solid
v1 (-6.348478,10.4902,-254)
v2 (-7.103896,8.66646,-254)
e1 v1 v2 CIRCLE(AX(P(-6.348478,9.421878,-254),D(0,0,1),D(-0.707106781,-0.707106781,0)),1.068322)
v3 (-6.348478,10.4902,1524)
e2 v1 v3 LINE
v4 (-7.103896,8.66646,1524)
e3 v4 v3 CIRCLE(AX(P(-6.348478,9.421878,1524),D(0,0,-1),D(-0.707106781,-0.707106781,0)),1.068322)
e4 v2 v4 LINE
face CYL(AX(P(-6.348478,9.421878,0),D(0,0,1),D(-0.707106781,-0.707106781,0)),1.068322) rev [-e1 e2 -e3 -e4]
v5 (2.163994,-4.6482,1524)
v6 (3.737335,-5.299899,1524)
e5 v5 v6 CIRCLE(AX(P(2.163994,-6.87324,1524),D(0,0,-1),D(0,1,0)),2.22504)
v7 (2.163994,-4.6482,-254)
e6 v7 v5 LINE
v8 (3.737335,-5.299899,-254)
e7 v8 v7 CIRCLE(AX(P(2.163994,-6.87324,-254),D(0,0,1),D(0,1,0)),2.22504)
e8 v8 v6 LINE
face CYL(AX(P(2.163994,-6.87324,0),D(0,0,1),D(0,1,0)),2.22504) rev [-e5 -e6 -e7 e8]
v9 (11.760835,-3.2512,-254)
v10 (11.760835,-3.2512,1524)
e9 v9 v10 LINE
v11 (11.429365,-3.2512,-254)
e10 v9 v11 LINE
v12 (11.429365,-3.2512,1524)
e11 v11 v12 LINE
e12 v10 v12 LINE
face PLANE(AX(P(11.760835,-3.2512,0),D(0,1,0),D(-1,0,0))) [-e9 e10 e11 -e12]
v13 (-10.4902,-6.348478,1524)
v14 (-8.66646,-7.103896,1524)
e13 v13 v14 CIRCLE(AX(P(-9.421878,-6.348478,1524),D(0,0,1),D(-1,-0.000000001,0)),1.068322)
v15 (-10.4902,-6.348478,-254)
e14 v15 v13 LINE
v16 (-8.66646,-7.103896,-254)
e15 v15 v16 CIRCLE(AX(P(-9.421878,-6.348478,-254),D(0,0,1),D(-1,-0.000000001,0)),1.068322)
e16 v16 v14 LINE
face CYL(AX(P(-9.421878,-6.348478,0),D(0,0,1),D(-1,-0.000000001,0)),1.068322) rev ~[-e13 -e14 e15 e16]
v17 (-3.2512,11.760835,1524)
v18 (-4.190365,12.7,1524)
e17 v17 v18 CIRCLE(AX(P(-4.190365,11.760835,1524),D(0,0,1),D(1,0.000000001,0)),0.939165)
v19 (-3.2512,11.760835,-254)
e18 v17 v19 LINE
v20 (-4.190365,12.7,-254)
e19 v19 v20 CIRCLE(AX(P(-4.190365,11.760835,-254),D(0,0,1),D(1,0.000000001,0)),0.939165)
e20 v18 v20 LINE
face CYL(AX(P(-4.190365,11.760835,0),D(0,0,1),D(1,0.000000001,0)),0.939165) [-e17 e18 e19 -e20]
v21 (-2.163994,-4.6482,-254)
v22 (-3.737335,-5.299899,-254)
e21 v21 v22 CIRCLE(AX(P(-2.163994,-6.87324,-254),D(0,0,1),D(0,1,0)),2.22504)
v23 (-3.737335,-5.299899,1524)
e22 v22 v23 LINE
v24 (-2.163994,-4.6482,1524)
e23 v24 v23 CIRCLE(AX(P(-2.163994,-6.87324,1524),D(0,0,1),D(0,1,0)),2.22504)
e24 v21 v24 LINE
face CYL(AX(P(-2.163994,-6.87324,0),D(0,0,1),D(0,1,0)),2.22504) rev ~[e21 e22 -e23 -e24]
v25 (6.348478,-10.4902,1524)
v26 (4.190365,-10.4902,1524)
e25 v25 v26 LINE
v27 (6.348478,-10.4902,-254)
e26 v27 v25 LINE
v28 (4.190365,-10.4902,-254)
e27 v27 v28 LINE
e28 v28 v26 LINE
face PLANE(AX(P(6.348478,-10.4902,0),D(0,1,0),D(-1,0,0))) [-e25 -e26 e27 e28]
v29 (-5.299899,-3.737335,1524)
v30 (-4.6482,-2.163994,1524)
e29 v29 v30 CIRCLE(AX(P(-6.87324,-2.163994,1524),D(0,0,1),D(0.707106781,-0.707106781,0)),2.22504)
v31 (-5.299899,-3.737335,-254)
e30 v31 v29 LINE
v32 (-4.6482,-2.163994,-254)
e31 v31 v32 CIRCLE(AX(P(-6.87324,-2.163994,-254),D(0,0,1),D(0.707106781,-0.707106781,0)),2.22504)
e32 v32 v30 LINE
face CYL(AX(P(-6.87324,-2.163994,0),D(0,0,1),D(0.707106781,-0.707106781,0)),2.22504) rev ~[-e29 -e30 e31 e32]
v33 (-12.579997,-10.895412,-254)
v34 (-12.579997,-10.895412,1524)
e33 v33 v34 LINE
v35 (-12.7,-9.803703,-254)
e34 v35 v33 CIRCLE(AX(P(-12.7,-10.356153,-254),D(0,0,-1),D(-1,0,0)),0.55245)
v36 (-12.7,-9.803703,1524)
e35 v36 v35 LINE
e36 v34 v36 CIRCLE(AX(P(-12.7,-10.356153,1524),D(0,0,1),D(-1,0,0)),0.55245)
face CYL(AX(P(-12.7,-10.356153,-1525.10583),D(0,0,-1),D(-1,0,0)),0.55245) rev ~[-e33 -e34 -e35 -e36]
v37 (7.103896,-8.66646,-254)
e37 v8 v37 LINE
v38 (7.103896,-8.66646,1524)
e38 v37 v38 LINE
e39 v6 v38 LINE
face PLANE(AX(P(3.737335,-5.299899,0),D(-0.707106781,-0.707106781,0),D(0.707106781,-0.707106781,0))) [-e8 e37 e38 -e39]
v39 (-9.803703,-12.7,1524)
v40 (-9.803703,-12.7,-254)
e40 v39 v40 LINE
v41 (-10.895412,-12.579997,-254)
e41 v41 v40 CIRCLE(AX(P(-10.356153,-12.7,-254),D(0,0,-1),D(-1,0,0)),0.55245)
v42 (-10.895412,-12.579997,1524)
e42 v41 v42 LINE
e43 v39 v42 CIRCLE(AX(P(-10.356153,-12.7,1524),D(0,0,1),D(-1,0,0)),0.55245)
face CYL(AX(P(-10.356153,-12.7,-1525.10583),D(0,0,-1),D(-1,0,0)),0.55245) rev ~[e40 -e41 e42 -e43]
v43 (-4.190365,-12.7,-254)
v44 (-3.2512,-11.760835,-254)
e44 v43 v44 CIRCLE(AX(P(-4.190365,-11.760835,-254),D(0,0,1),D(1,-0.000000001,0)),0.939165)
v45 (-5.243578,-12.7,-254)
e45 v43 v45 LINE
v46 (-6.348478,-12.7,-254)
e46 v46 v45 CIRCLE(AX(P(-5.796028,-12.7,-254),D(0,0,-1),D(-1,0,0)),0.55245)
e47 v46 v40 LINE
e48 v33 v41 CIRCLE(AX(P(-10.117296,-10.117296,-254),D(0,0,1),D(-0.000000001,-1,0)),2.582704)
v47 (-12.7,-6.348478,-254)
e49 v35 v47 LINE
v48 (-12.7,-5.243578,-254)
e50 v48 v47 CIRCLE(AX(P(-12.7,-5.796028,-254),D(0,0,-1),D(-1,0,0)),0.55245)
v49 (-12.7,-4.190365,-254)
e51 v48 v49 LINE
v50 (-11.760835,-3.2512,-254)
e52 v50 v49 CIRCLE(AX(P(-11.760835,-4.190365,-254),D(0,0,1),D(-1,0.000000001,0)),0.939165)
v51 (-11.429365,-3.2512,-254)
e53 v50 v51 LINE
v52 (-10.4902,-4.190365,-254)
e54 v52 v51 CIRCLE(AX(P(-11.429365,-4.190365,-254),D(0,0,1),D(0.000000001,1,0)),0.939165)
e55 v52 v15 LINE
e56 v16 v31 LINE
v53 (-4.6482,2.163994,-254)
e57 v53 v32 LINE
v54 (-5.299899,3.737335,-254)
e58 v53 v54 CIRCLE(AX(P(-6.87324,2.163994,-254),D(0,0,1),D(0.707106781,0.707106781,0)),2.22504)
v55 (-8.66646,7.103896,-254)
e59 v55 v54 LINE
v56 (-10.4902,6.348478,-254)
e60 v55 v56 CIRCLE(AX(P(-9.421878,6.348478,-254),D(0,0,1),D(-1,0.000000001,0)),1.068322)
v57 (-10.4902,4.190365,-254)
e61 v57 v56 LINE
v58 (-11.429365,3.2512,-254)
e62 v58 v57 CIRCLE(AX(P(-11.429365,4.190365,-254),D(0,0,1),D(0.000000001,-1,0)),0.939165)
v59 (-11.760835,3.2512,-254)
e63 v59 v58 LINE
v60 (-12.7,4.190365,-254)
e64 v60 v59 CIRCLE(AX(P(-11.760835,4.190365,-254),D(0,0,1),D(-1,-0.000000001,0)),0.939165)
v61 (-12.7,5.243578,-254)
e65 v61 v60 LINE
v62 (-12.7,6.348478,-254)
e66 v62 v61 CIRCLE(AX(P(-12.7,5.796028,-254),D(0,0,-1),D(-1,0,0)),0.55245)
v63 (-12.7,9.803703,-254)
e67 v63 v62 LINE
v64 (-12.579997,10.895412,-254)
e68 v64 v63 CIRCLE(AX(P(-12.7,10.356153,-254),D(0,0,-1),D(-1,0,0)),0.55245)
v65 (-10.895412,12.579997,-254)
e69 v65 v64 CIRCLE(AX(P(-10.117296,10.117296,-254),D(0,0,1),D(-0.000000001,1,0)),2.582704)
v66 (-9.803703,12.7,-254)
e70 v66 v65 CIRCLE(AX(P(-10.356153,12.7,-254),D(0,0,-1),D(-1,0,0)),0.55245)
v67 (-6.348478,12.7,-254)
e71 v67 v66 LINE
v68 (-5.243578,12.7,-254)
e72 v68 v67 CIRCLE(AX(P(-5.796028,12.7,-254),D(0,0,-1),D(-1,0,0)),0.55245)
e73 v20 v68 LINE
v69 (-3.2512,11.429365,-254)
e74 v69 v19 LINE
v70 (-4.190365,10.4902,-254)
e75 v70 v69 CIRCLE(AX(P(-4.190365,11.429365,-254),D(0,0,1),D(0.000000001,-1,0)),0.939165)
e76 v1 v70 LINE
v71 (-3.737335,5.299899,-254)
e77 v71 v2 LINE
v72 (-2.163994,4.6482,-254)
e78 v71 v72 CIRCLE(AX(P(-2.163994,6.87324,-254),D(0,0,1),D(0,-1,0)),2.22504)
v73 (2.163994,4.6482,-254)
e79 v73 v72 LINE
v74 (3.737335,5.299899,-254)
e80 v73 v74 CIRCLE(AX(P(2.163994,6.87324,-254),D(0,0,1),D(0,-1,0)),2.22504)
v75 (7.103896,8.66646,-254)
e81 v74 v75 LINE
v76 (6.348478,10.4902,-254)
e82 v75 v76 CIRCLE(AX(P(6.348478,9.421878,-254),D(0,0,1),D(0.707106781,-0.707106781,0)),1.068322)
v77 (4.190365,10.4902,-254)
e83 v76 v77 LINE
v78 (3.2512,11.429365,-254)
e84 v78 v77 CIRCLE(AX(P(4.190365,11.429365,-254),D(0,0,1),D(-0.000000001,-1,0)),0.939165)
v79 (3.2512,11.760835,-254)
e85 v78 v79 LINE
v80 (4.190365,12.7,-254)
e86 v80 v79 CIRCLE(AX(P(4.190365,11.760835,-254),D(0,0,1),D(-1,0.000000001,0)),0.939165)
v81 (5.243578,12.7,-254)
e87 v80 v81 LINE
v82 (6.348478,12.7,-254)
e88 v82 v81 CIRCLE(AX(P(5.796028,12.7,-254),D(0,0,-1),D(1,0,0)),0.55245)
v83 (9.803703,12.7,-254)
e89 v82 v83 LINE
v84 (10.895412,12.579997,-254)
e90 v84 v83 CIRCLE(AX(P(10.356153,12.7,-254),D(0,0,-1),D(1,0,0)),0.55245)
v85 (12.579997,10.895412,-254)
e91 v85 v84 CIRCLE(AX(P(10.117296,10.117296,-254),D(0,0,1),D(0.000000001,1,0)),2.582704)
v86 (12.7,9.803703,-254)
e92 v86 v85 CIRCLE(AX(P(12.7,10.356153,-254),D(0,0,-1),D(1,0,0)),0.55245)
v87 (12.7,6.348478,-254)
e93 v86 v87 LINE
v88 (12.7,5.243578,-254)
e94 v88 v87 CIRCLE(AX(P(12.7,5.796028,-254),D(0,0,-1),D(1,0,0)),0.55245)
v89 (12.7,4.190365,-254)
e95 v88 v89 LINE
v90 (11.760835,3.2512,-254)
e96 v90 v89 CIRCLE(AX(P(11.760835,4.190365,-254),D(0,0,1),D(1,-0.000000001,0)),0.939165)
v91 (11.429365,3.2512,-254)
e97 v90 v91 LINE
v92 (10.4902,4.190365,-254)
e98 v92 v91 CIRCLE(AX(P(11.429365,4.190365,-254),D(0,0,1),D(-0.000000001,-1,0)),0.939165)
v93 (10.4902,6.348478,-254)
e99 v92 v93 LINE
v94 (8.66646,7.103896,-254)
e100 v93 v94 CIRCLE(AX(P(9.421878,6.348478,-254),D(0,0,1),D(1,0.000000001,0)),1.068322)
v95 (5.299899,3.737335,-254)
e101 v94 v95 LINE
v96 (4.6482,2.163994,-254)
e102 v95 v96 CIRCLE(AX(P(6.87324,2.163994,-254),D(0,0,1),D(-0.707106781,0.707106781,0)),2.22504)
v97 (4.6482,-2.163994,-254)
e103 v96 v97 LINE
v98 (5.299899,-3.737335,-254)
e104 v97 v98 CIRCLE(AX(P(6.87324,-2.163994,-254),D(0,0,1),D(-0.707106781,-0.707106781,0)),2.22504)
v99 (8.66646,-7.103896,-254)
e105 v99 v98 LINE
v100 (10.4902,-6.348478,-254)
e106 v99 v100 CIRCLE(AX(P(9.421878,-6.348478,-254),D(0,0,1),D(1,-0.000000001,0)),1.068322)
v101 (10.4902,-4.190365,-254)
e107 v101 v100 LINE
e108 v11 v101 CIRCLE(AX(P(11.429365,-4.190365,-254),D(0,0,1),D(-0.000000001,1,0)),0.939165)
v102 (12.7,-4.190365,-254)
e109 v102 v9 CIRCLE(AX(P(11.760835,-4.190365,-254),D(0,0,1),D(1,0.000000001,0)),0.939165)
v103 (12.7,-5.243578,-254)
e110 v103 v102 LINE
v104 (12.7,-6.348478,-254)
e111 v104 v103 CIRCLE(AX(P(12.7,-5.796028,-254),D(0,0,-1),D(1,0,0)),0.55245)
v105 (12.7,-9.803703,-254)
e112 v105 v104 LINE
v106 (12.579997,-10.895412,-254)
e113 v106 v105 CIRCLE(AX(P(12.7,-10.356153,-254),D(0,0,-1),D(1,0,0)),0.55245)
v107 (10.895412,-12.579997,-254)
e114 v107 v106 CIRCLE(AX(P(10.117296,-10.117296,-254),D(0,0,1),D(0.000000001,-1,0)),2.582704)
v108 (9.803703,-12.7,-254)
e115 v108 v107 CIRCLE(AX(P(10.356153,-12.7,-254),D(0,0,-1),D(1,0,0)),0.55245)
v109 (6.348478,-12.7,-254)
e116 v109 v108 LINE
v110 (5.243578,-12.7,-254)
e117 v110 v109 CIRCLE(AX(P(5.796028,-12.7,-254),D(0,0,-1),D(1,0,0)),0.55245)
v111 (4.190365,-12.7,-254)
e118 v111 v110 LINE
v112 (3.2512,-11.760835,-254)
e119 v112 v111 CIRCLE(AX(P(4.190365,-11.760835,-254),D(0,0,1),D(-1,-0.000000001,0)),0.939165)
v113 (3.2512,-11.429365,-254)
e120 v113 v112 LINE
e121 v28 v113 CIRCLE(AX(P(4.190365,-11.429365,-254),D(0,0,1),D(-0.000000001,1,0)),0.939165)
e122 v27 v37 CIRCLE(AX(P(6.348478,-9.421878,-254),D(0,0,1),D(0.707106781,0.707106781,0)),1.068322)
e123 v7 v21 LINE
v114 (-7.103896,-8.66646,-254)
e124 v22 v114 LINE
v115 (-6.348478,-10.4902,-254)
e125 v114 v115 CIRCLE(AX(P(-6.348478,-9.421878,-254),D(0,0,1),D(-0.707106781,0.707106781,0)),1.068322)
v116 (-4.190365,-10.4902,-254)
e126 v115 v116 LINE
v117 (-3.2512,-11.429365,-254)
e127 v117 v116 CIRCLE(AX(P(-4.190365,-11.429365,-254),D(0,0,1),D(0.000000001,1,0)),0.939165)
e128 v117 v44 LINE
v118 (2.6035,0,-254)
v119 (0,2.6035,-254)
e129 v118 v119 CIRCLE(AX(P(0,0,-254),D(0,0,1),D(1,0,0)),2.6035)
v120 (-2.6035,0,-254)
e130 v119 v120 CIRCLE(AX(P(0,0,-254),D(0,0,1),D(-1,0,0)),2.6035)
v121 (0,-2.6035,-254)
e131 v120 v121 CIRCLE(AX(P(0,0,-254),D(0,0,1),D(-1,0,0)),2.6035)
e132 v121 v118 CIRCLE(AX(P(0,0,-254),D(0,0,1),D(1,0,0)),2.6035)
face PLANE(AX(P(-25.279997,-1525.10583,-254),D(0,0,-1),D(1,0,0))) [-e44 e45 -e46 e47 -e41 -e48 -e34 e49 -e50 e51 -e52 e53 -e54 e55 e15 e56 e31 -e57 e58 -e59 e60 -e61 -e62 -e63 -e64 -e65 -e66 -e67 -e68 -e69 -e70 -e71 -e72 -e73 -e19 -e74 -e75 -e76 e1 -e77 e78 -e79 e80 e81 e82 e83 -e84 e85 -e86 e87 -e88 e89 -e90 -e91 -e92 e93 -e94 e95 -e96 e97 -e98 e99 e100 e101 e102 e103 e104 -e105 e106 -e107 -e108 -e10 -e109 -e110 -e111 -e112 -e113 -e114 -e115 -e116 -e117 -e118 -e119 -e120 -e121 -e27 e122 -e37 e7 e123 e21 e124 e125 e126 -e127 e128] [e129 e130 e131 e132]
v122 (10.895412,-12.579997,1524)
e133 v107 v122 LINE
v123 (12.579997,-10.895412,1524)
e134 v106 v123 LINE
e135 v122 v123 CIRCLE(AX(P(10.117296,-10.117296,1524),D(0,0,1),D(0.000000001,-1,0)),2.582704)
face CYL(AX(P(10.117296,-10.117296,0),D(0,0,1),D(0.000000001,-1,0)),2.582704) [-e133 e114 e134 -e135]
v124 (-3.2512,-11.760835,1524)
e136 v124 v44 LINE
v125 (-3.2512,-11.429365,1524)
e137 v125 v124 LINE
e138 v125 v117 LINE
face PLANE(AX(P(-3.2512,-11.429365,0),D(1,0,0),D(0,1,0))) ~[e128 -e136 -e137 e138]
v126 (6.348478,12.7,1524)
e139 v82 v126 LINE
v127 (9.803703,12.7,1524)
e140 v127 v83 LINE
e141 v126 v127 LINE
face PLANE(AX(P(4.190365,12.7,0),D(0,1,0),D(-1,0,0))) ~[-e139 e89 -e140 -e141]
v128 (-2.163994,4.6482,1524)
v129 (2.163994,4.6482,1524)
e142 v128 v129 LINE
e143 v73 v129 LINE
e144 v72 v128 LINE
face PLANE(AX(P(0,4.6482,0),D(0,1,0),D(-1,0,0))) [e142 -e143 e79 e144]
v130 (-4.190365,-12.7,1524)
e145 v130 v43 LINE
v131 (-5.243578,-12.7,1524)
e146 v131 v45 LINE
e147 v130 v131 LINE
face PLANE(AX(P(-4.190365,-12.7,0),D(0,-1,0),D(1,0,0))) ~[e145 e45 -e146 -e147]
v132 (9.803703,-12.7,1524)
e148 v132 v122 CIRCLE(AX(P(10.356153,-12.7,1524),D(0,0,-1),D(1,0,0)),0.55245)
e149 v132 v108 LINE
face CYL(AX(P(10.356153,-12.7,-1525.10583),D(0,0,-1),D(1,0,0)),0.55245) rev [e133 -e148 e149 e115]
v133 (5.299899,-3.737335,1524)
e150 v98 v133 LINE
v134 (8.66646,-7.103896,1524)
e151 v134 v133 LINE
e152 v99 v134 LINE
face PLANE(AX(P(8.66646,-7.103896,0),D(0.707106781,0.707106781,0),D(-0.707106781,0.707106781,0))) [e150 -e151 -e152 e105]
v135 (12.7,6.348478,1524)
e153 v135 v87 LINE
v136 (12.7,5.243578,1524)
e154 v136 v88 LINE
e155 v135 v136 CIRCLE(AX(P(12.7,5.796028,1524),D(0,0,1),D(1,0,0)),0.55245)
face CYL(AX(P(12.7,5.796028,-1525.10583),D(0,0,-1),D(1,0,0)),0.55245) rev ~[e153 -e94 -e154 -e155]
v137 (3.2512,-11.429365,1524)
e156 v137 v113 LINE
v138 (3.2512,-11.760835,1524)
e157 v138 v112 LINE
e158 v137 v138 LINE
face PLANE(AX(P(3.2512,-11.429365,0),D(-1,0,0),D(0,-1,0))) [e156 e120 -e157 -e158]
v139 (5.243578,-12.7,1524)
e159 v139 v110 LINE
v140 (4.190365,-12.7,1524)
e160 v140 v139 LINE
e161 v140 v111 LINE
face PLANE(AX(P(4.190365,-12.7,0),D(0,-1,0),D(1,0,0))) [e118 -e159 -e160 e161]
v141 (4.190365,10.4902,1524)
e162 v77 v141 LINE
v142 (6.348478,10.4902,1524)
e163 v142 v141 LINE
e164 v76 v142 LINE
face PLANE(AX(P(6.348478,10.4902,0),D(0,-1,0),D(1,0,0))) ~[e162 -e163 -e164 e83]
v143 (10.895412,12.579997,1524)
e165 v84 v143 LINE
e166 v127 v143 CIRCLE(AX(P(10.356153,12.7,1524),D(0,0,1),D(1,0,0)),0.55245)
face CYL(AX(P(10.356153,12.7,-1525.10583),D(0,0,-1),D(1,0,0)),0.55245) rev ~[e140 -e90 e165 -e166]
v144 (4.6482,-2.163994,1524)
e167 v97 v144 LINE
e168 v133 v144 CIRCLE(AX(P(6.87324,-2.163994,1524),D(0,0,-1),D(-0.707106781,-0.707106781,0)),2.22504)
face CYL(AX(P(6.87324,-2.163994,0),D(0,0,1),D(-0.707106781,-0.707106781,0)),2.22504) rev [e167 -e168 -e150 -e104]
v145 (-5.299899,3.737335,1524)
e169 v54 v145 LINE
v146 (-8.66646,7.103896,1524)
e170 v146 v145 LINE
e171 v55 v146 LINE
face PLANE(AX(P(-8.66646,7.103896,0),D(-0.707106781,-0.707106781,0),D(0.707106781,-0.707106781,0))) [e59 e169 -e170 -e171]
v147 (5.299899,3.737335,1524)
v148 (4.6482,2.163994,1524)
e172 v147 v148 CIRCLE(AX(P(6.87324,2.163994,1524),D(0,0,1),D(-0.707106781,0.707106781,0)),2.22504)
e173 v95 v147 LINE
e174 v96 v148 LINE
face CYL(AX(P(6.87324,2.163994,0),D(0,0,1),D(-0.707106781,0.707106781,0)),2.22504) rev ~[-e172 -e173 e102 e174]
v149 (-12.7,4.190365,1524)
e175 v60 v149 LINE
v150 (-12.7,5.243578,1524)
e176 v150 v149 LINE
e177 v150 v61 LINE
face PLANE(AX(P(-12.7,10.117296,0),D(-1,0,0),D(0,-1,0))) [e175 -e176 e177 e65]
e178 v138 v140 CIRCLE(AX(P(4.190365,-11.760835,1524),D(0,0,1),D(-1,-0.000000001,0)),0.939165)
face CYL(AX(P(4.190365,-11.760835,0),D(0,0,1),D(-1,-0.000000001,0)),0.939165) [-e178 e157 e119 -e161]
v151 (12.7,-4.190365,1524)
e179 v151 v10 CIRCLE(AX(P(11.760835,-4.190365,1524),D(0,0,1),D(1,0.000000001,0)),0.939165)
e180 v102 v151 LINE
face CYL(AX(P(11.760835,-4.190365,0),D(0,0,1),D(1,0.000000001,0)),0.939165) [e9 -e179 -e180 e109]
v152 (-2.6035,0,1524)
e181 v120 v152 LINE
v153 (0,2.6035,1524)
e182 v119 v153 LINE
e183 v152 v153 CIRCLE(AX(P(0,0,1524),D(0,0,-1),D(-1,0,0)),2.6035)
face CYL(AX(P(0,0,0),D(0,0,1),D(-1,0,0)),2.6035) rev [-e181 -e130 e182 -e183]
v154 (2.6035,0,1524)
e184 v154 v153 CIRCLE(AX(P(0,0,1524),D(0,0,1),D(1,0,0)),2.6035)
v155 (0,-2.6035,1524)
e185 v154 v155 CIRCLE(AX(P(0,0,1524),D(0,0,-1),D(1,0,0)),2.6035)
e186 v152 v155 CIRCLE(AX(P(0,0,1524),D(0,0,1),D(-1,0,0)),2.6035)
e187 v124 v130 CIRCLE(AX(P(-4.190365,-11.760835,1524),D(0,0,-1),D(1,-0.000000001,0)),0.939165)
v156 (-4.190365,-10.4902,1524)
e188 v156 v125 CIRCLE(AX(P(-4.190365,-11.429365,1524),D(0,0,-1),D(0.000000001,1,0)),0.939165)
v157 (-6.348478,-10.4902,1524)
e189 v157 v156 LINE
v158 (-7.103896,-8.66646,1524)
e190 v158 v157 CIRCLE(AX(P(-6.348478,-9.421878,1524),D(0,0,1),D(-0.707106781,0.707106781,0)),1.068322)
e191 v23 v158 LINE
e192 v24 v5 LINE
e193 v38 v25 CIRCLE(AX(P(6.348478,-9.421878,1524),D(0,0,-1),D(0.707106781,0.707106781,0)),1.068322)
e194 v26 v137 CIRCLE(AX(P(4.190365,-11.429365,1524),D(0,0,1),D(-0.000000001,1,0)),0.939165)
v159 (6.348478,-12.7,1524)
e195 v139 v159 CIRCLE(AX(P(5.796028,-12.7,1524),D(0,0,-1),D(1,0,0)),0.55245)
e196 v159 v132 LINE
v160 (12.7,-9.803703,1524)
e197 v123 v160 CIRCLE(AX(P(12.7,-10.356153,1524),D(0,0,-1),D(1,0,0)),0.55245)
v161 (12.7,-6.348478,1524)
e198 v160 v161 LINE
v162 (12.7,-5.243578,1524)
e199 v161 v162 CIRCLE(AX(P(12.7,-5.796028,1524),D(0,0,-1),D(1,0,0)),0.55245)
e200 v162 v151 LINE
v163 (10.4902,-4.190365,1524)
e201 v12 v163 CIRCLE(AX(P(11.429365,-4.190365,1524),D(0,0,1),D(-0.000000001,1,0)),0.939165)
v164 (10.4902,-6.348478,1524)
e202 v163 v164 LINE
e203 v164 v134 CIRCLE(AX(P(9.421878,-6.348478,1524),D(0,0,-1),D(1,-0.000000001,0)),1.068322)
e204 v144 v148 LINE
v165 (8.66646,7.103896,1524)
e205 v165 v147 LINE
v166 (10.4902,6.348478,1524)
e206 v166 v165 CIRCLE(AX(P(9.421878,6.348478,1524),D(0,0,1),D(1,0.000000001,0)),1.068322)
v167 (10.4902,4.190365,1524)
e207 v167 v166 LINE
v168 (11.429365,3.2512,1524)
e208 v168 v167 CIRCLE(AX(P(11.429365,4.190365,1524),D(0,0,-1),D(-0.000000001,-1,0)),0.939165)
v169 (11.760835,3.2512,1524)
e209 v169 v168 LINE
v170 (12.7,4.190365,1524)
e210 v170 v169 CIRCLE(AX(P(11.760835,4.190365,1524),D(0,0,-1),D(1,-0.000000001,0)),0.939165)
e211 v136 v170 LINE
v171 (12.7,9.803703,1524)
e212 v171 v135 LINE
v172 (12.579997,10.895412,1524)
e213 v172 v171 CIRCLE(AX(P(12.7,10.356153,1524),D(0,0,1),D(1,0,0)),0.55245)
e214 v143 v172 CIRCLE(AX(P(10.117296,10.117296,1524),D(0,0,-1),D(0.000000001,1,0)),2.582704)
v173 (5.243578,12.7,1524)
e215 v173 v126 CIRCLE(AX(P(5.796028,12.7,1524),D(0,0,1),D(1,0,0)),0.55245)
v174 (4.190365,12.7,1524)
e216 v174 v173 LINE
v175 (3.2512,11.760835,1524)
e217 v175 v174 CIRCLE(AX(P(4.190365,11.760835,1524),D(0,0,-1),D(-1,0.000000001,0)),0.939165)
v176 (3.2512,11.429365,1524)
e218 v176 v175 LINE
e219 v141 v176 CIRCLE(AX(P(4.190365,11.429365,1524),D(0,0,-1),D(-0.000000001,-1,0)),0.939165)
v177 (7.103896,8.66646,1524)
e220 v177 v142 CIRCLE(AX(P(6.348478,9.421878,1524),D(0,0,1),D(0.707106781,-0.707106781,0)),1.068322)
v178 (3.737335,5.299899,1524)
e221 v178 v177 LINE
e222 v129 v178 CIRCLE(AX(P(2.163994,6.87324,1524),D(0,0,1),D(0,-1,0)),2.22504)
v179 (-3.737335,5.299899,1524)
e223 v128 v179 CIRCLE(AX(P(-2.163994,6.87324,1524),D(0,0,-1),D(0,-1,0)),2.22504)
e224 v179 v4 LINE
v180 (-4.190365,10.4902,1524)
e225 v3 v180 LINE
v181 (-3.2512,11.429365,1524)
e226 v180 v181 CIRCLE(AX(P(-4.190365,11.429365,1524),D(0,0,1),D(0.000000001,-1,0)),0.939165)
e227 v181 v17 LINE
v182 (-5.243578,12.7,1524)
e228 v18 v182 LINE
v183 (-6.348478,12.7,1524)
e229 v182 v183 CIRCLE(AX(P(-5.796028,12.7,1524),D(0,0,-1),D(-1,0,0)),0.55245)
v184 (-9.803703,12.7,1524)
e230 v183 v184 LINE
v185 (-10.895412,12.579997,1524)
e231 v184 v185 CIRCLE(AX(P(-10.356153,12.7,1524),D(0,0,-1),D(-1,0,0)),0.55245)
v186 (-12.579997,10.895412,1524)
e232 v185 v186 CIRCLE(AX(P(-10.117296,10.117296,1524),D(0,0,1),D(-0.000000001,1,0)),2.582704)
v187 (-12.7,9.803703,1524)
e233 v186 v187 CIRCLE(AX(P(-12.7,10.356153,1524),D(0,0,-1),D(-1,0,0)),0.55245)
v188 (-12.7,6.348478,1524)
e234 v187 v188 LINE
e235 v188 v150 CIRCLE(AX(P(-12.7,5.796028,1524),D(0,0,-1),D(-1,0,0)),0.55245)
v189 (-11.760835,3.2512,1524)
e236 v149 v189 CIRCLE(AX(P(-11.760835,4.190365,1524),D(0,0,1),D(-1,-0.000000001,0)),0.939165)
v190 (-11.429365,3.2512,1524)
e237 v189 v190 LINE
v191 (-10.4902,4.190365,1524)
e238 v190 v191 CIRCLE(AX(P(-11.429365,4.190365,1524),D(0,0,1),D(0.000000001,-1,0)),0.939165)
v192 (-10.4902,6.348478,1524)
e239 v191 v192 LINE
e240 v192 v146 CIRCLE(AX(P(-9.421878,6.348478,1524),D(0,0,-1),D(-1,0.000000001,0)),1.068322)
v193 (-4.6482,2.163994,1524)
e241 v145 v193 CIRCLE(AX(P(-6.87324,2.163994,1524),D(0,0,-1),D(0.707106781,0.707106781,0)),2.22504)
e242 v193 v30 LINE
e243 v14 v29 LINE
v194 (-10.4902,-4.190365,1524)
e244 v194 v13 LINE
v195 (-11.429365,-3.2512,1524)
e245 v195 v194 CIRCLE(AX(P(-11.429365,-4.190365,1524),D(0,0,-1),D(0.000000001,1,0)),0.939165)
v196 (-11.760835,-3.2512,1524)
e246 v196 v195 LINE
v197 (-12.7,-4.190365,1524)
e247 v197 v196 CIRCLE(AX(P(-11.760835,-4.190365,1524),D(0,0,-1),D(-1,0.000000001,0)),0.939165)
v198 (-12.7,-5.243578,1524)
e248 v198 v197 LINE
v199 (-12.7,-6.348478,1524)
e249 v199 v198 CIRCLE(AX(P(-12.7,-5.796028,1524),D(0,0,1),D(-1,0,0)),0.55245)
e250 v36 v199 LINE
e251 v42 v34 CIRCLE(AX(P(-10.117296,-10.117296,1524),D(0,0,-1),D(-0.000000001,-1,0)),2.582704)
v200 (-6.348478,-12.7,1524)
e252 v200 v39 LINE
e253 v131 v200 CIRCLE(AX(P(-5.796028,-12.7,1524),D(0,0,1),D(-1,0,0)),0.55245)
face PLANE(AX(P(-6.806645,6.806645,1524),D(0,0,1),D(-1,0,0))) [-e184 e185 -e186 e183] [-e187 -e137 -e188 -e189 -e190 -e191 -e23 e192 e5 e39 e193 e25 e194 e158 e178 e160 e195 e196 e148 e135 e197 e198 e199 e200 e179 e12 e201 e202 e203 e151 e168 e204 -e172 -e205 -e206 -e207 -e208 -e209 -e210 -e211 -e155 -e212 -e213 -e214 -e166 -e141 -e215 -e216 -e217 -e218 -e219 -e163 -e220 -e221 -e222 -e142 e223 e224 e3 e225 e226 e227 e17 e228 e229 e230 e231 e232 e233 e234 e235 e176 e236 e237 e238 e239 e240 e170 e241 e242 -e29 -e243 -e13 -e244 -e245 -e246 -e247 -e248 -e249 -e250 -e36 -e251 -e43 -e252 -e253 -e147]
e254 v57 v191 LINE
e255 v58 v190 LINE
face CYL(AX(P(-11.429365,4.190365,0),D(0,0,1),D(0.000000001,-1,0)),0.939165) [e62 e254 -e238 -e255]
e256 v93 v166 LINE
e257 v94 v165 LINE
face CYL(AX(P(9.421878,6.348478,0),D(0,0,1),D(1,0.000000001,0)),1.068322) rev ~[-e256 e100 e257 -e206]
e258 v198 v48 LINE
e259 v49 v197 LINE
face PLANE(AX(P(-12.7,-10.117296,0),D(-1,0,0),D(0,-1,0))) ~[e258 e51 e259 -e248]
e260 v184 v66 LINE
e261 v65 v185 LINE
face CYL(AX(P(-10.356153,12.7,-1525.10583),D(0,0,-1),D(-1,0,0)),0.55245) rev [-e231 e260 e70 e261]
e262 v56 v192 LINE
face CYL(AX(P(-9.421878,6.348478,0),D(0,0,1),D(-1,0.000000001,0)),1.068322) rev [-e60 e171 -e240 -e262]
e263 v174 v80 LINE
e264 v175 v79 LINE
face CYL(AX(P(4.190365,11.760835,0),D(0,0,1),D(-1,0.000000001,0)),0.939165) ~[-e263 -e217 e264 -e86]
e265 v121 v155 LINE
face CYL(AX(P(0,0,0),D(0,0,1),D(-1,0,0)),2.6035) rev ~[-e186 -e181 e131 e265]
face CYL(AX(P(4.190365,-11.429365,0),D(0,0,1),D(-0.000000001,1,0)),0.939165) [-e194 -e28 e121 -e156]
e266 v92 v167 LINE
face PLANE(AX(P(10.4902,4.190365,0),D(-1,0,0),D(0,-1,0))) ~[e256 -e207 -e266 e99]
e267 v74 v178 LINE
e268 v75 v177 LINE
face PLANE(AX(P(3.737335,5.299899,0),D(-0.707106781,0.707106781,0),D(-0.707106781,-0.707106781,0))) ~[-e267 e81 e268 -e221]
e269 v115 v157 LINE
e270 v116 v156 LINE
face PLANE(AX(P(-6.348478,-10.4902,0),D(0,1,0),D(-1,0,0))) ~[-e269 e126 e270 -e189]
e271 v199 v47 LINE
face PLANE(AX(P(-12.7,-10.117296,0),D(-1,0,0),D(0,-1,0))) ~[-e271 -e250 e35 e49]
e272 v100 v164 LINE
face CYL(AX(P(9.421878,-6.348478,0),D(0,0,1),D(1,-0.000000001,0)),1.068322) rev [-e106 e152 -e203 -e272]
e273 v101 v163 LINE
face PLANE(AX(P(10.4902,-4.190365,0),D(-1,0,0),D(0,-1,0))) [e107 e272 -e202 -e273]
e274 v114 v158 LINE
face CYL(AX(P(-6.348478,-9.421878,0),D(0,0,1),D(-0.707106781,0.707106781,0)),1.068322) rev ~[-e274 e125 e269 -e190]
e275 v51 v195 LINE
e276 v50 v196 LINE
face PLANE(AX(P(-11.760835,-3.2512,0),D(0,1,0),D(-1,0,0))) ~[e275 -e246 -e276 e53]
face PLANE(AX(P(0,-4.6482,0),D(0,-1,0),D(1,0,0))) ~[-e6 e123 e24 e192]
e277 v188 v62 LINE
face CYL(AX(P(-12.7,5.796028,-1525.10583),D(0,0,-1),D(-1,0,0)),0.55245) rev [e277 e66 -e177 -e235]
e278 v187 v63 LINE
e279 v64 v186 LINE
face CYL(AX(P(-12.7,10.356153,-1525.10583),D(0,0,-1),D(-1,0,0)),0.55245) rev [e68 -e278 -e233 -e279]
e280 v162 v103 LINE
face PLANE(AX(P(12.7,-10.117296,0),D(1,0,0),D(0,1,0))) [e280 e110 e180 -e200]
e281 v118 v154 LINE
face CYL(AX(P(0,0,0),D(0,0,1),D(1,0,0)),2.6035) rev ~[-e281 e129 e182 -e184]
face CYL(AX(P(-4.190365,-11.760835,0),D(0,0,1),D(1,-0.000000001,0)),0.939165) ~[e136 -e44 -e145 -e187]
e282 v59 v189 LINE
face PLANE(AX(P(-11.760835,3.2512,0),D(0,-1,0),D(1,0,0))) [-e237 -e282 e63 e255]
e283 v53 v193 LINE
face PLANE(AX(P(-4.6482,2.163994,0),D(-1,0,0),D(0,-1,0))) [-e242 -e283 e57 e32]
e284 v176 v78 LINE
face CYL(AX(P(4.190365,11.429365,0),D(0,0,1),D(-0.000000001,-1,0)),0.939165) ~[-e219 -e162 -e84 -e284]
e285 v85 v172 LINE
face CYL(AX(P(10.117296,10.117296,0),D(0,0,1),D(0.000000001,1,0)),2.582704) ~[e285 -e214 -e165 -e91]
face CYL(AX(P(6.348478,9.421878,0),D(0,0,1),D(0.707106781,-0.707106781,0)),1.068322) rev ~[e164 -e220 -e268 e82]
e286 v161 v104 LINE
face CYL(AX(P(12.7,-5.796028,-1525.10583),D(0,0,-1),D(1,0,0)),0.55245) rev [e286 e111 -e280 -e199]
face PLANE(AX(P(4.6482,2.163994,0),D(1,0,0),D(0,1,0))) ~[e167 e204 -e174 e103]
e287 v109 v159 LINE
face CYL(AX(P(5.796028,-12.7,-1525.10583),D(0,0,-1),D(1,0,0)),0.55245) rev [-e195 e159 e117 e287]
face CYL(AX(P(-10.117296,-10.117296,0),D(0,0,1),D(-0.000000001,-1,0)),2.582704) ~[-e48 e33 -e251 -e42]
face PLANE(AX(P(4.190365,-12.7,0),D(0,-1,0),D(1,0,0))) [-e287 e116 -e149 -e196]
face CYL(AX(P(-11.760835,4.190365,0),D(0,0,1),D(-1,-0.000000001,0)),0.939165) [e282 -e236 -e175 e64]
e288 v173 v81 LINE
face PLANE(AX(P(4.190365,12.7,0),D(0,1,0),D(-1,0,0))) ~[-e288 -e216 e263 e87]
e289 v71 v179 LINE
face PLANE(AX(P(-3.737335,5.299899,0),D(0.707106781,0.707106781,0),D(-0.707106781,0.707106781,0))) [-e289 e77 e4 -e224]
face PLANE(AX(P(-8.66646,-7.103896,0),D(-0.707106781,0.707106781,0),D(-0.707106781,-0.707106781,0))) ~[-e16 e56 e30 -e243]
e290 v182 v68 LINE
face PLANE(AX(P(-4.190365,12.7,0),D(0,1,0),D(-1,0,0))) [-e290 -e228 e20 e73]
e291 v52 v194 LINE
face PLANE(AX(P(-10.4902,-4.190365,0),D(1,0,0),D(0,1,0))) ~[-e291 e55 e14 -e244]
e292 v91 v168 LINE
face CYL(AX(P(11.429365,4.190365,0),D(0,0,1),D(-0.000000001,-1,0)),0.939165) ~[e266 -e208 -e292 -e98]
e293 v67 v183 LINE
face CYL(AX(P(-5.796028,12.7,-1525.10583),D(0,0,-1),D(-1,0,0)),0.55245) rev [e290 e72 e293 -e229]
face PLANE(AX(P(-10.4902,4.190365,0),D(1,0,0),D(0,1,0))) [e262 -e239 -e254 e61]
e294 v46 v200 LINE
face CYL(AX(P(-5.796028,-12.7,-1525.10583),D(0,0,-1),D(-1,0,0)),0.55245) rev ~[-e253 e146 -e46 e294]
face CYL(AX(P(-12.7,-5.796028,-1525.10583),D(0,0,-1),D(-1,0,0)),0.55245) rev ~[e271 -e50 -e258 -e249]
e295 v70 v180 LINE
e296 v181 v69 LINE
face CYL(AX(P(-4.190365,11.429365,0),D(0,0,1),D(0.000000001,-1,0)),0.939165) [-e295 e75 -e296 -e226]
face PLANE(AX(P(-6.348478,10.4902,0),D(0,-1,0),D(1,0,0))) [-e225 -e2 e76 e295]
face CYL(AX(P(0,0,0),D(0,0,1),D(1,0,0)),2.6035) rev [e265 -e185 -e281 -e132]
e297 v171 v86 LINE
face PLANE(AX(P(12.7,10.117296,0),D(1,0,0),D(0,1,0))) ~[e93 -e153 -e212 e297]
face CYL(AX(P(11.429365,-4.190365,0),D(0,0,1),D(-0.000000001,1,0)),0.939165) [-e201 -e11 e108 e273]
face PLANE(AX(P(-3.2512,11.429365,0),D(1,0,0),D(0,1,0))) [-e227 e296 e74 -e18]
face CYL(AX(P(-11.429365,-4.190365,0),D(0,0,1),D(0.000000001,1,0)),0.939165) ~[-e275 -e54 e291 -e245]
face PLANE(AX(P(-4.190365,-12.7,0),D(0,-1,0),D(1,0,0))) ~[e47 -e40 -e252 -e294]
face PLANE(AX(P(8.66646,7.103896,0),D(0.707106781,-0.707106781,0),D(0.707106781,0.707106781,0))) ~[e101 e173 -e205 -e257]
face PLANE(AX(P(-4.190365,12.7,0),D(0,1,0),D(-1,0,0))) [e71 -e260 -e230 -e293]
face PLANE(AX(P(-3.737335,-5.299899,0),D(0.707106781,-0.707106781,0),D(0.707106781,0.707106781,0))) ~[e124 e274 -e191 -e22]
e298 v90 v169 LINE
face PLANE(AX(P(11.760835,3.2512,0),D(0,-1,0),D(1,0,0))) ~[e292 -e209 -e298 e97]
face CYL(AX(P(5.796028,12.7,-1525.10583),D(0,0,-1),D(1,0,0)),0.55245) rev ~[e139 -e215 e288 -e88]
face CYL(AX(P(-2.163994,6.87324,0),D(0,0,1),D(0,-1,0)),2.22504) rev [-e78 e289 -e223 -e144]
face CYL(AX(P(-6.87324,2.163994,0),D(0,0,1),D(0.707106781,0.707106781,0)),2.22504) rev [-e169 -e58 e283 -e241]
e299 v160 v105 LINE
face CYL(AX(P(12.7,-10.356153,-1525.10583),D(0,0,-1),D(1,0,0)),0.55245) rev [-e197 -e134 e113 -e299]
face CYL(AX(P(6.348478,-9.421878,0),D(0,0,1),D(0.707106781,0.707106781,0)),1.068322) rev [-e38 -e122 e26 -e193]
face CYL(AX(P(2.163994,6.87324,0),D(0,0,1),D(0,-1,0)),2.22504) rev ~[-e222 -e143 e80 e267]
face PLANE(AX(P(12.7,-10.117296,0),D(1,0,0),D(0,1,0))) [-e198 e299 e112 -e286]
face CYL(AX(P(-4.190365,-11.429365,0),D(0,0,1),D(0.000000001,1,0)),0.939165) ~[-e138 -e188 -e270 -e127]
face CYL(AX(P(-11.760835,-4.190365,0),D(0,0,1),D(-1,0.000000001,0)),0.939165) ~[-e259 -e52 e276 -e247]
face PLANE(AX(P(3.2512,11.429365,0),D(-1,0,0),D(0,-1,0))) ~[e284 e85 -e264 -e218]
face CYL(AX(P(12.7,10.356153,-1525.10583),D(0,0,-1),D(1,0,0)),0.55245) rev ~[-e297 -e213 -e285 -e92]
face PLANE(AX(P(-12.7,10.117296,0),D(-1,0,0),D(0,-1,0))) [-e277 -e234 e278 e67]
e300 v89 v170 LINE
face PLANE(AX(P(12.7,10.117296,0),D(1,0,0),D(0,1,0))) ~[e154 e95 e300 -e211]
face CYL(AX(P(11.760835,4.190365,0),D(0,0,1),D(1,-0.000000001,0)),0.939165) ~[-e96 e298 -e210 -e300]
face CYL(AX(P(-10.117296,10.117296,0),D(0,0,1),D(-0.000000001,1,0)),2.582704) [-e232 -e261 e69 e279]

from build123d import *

# Parameters (mm, degrees)
BOSS_EXTRUDE1_DEPTH     = 1524
CUT_EXTRUDE1_DEPTH      = 1525.105829659
CUT_EXTRUDE1_DEPTH_BACK = 1525.105829659
SKETCH5_R               = 0.55245
CUT_EXTRUDE2_DEPTH      = 1525.105829659
CUT_EXTRUDE2_DEPTH_BACK = 1525.105829659
SKETCH8_W               = 50.559993734
SKETCH8_H               = 1282.7


with BuildPart() as part:
    # Sketch4 → Boss-Extrude1 (new, symmetric)
    with BuildSketch(Plane.XY):
        with BuildLine():
            Line((4.190365, -12.7), (10.11729625, -12.7))
            ThreePointArc((10.11729625, -12.7), (11.943543585, -11.943543585), (12.7, -10.11729625))
            Line((12.7, -10.11729625), (12.7, -4.190365))
            ThreePointArc((12.7, -4.190365), (12.42492494, -3.52627506), (11.760835, -3.2512))
            Line((11.760835, -3.2512), (11.429365, -3.2512))
            ThreePointArc((11.429365, -3.2512), (10.76527506, -3.52627506), (10.4902, -4.190365))
            Line((10.4902, -4.190365), (10.4902, -6.348478019))
            ThreePointArc((10.4902, -6.348478019), (9.830707141, -7.335478831), (8.666460301, -7.103895736))
            Line((8.666460301, -7.103895736), (5.299899128, -3.737334563))
            ThreePointArc((5.299899128, -3.737334563), (4.817571085, -3.015479634), (4.6482, -2.16399369))
            Line((4.6482, -2.16399369), (4.6482, 0))
            Line((4.6482, 0), (2.6035, 0))
            ThreePointArc((2.6035, 0), (1.840952505, -1.840952505), (0, -2.6035))
            Line((0, -2.6035), (0, -4.6482))
            Line((0, -4.6482), (2.16399369, -4.6482))
            ThreePointArc((2.16399369, -4.6482), (3.015479634, -4.817571085), (3.737334563, -5.299899128))
            Line((3.737334563, -5.299899128), (7.103895736, -8.666460301))
            ThreePointArc((7.103895736, -8.666460301), (7.335478831, -9.830707141), (6.348478019, -10.4902))
            Line((6.348478019, -10.4902), (4.190365, -10.4902))
            ThreePointArc((4.190365, -10.4902), (3.52627506, -10.76527506), (3.2512, -11.429365))
            Line((3.2512, -11.429365), (3.2512, -11.760835))
            ThreePointArc((3.2512, -11.760835), (3.52627506, -12.42492494), (4.190365, -12.7))
        make_face()
    extrude(amount=BOSS_EXTRUDE1_DEPTH, both=True)

    # Sketch5 → Cut-Extrude1 (cut, two sides: drawn at the far end of the back side and taken through both)
    with BuildSketch(Plane.XY.offset(-CUT_EXTRUDE1_DEPTH_BACK)):
        with Locations((10.356153152, -12.7)):
            Circle(SKETCH5_R)
        with Locations((5.796028019, -12.7)):
            Circle(SKETCH5_R)
        with Locations((12.7, -10.356153152)):
            Circle(SKETCH5_R)
        with Locations((12.7, -5.796028019)):
            Circle(SKETCH5_R)
    extrude(amount=CUT_EXTRUDE1_DEPTH + CUT_EXTRUDE1_DEPTH_BACK, mode=Mode.SUBTRACT)

    # Mirror1: part across plane


with BuildPart() as part_1:
    add(part.part)
    add(part.part.mirror(Plane(origin=(0, 0, 0), x_dir=(0, 0, 1), z_dir=(1, 0, 0))))

    # Mirror2: part across plane


with BuildPart() as part_2:
    add(part_1.part)
    add(part_1.part.mirror(Plane.ZX))

    # Sketch8 → Cut-Extrude2 (cut, two sides: drawn at the far end of the back side and taken through both)
    with BuildSketch(Plane(origin=(0, 0, 0), x_dir=(1, 0, 0), z_dir=(0, 1, 0)).offset(-CUT_EXTRUDE2_DEPTH_BACK)):
        with Locations((0, 895.35)):
            Rectangle(SKETCH8_W, SKETCH8_H)
    extrude(amount=CUT_EXTRUDE2_DEPTH + CUT_EXTRUDE2_DEPTH_BACK, mode=Mode.SUBTRACT)


solid = part_2.part
